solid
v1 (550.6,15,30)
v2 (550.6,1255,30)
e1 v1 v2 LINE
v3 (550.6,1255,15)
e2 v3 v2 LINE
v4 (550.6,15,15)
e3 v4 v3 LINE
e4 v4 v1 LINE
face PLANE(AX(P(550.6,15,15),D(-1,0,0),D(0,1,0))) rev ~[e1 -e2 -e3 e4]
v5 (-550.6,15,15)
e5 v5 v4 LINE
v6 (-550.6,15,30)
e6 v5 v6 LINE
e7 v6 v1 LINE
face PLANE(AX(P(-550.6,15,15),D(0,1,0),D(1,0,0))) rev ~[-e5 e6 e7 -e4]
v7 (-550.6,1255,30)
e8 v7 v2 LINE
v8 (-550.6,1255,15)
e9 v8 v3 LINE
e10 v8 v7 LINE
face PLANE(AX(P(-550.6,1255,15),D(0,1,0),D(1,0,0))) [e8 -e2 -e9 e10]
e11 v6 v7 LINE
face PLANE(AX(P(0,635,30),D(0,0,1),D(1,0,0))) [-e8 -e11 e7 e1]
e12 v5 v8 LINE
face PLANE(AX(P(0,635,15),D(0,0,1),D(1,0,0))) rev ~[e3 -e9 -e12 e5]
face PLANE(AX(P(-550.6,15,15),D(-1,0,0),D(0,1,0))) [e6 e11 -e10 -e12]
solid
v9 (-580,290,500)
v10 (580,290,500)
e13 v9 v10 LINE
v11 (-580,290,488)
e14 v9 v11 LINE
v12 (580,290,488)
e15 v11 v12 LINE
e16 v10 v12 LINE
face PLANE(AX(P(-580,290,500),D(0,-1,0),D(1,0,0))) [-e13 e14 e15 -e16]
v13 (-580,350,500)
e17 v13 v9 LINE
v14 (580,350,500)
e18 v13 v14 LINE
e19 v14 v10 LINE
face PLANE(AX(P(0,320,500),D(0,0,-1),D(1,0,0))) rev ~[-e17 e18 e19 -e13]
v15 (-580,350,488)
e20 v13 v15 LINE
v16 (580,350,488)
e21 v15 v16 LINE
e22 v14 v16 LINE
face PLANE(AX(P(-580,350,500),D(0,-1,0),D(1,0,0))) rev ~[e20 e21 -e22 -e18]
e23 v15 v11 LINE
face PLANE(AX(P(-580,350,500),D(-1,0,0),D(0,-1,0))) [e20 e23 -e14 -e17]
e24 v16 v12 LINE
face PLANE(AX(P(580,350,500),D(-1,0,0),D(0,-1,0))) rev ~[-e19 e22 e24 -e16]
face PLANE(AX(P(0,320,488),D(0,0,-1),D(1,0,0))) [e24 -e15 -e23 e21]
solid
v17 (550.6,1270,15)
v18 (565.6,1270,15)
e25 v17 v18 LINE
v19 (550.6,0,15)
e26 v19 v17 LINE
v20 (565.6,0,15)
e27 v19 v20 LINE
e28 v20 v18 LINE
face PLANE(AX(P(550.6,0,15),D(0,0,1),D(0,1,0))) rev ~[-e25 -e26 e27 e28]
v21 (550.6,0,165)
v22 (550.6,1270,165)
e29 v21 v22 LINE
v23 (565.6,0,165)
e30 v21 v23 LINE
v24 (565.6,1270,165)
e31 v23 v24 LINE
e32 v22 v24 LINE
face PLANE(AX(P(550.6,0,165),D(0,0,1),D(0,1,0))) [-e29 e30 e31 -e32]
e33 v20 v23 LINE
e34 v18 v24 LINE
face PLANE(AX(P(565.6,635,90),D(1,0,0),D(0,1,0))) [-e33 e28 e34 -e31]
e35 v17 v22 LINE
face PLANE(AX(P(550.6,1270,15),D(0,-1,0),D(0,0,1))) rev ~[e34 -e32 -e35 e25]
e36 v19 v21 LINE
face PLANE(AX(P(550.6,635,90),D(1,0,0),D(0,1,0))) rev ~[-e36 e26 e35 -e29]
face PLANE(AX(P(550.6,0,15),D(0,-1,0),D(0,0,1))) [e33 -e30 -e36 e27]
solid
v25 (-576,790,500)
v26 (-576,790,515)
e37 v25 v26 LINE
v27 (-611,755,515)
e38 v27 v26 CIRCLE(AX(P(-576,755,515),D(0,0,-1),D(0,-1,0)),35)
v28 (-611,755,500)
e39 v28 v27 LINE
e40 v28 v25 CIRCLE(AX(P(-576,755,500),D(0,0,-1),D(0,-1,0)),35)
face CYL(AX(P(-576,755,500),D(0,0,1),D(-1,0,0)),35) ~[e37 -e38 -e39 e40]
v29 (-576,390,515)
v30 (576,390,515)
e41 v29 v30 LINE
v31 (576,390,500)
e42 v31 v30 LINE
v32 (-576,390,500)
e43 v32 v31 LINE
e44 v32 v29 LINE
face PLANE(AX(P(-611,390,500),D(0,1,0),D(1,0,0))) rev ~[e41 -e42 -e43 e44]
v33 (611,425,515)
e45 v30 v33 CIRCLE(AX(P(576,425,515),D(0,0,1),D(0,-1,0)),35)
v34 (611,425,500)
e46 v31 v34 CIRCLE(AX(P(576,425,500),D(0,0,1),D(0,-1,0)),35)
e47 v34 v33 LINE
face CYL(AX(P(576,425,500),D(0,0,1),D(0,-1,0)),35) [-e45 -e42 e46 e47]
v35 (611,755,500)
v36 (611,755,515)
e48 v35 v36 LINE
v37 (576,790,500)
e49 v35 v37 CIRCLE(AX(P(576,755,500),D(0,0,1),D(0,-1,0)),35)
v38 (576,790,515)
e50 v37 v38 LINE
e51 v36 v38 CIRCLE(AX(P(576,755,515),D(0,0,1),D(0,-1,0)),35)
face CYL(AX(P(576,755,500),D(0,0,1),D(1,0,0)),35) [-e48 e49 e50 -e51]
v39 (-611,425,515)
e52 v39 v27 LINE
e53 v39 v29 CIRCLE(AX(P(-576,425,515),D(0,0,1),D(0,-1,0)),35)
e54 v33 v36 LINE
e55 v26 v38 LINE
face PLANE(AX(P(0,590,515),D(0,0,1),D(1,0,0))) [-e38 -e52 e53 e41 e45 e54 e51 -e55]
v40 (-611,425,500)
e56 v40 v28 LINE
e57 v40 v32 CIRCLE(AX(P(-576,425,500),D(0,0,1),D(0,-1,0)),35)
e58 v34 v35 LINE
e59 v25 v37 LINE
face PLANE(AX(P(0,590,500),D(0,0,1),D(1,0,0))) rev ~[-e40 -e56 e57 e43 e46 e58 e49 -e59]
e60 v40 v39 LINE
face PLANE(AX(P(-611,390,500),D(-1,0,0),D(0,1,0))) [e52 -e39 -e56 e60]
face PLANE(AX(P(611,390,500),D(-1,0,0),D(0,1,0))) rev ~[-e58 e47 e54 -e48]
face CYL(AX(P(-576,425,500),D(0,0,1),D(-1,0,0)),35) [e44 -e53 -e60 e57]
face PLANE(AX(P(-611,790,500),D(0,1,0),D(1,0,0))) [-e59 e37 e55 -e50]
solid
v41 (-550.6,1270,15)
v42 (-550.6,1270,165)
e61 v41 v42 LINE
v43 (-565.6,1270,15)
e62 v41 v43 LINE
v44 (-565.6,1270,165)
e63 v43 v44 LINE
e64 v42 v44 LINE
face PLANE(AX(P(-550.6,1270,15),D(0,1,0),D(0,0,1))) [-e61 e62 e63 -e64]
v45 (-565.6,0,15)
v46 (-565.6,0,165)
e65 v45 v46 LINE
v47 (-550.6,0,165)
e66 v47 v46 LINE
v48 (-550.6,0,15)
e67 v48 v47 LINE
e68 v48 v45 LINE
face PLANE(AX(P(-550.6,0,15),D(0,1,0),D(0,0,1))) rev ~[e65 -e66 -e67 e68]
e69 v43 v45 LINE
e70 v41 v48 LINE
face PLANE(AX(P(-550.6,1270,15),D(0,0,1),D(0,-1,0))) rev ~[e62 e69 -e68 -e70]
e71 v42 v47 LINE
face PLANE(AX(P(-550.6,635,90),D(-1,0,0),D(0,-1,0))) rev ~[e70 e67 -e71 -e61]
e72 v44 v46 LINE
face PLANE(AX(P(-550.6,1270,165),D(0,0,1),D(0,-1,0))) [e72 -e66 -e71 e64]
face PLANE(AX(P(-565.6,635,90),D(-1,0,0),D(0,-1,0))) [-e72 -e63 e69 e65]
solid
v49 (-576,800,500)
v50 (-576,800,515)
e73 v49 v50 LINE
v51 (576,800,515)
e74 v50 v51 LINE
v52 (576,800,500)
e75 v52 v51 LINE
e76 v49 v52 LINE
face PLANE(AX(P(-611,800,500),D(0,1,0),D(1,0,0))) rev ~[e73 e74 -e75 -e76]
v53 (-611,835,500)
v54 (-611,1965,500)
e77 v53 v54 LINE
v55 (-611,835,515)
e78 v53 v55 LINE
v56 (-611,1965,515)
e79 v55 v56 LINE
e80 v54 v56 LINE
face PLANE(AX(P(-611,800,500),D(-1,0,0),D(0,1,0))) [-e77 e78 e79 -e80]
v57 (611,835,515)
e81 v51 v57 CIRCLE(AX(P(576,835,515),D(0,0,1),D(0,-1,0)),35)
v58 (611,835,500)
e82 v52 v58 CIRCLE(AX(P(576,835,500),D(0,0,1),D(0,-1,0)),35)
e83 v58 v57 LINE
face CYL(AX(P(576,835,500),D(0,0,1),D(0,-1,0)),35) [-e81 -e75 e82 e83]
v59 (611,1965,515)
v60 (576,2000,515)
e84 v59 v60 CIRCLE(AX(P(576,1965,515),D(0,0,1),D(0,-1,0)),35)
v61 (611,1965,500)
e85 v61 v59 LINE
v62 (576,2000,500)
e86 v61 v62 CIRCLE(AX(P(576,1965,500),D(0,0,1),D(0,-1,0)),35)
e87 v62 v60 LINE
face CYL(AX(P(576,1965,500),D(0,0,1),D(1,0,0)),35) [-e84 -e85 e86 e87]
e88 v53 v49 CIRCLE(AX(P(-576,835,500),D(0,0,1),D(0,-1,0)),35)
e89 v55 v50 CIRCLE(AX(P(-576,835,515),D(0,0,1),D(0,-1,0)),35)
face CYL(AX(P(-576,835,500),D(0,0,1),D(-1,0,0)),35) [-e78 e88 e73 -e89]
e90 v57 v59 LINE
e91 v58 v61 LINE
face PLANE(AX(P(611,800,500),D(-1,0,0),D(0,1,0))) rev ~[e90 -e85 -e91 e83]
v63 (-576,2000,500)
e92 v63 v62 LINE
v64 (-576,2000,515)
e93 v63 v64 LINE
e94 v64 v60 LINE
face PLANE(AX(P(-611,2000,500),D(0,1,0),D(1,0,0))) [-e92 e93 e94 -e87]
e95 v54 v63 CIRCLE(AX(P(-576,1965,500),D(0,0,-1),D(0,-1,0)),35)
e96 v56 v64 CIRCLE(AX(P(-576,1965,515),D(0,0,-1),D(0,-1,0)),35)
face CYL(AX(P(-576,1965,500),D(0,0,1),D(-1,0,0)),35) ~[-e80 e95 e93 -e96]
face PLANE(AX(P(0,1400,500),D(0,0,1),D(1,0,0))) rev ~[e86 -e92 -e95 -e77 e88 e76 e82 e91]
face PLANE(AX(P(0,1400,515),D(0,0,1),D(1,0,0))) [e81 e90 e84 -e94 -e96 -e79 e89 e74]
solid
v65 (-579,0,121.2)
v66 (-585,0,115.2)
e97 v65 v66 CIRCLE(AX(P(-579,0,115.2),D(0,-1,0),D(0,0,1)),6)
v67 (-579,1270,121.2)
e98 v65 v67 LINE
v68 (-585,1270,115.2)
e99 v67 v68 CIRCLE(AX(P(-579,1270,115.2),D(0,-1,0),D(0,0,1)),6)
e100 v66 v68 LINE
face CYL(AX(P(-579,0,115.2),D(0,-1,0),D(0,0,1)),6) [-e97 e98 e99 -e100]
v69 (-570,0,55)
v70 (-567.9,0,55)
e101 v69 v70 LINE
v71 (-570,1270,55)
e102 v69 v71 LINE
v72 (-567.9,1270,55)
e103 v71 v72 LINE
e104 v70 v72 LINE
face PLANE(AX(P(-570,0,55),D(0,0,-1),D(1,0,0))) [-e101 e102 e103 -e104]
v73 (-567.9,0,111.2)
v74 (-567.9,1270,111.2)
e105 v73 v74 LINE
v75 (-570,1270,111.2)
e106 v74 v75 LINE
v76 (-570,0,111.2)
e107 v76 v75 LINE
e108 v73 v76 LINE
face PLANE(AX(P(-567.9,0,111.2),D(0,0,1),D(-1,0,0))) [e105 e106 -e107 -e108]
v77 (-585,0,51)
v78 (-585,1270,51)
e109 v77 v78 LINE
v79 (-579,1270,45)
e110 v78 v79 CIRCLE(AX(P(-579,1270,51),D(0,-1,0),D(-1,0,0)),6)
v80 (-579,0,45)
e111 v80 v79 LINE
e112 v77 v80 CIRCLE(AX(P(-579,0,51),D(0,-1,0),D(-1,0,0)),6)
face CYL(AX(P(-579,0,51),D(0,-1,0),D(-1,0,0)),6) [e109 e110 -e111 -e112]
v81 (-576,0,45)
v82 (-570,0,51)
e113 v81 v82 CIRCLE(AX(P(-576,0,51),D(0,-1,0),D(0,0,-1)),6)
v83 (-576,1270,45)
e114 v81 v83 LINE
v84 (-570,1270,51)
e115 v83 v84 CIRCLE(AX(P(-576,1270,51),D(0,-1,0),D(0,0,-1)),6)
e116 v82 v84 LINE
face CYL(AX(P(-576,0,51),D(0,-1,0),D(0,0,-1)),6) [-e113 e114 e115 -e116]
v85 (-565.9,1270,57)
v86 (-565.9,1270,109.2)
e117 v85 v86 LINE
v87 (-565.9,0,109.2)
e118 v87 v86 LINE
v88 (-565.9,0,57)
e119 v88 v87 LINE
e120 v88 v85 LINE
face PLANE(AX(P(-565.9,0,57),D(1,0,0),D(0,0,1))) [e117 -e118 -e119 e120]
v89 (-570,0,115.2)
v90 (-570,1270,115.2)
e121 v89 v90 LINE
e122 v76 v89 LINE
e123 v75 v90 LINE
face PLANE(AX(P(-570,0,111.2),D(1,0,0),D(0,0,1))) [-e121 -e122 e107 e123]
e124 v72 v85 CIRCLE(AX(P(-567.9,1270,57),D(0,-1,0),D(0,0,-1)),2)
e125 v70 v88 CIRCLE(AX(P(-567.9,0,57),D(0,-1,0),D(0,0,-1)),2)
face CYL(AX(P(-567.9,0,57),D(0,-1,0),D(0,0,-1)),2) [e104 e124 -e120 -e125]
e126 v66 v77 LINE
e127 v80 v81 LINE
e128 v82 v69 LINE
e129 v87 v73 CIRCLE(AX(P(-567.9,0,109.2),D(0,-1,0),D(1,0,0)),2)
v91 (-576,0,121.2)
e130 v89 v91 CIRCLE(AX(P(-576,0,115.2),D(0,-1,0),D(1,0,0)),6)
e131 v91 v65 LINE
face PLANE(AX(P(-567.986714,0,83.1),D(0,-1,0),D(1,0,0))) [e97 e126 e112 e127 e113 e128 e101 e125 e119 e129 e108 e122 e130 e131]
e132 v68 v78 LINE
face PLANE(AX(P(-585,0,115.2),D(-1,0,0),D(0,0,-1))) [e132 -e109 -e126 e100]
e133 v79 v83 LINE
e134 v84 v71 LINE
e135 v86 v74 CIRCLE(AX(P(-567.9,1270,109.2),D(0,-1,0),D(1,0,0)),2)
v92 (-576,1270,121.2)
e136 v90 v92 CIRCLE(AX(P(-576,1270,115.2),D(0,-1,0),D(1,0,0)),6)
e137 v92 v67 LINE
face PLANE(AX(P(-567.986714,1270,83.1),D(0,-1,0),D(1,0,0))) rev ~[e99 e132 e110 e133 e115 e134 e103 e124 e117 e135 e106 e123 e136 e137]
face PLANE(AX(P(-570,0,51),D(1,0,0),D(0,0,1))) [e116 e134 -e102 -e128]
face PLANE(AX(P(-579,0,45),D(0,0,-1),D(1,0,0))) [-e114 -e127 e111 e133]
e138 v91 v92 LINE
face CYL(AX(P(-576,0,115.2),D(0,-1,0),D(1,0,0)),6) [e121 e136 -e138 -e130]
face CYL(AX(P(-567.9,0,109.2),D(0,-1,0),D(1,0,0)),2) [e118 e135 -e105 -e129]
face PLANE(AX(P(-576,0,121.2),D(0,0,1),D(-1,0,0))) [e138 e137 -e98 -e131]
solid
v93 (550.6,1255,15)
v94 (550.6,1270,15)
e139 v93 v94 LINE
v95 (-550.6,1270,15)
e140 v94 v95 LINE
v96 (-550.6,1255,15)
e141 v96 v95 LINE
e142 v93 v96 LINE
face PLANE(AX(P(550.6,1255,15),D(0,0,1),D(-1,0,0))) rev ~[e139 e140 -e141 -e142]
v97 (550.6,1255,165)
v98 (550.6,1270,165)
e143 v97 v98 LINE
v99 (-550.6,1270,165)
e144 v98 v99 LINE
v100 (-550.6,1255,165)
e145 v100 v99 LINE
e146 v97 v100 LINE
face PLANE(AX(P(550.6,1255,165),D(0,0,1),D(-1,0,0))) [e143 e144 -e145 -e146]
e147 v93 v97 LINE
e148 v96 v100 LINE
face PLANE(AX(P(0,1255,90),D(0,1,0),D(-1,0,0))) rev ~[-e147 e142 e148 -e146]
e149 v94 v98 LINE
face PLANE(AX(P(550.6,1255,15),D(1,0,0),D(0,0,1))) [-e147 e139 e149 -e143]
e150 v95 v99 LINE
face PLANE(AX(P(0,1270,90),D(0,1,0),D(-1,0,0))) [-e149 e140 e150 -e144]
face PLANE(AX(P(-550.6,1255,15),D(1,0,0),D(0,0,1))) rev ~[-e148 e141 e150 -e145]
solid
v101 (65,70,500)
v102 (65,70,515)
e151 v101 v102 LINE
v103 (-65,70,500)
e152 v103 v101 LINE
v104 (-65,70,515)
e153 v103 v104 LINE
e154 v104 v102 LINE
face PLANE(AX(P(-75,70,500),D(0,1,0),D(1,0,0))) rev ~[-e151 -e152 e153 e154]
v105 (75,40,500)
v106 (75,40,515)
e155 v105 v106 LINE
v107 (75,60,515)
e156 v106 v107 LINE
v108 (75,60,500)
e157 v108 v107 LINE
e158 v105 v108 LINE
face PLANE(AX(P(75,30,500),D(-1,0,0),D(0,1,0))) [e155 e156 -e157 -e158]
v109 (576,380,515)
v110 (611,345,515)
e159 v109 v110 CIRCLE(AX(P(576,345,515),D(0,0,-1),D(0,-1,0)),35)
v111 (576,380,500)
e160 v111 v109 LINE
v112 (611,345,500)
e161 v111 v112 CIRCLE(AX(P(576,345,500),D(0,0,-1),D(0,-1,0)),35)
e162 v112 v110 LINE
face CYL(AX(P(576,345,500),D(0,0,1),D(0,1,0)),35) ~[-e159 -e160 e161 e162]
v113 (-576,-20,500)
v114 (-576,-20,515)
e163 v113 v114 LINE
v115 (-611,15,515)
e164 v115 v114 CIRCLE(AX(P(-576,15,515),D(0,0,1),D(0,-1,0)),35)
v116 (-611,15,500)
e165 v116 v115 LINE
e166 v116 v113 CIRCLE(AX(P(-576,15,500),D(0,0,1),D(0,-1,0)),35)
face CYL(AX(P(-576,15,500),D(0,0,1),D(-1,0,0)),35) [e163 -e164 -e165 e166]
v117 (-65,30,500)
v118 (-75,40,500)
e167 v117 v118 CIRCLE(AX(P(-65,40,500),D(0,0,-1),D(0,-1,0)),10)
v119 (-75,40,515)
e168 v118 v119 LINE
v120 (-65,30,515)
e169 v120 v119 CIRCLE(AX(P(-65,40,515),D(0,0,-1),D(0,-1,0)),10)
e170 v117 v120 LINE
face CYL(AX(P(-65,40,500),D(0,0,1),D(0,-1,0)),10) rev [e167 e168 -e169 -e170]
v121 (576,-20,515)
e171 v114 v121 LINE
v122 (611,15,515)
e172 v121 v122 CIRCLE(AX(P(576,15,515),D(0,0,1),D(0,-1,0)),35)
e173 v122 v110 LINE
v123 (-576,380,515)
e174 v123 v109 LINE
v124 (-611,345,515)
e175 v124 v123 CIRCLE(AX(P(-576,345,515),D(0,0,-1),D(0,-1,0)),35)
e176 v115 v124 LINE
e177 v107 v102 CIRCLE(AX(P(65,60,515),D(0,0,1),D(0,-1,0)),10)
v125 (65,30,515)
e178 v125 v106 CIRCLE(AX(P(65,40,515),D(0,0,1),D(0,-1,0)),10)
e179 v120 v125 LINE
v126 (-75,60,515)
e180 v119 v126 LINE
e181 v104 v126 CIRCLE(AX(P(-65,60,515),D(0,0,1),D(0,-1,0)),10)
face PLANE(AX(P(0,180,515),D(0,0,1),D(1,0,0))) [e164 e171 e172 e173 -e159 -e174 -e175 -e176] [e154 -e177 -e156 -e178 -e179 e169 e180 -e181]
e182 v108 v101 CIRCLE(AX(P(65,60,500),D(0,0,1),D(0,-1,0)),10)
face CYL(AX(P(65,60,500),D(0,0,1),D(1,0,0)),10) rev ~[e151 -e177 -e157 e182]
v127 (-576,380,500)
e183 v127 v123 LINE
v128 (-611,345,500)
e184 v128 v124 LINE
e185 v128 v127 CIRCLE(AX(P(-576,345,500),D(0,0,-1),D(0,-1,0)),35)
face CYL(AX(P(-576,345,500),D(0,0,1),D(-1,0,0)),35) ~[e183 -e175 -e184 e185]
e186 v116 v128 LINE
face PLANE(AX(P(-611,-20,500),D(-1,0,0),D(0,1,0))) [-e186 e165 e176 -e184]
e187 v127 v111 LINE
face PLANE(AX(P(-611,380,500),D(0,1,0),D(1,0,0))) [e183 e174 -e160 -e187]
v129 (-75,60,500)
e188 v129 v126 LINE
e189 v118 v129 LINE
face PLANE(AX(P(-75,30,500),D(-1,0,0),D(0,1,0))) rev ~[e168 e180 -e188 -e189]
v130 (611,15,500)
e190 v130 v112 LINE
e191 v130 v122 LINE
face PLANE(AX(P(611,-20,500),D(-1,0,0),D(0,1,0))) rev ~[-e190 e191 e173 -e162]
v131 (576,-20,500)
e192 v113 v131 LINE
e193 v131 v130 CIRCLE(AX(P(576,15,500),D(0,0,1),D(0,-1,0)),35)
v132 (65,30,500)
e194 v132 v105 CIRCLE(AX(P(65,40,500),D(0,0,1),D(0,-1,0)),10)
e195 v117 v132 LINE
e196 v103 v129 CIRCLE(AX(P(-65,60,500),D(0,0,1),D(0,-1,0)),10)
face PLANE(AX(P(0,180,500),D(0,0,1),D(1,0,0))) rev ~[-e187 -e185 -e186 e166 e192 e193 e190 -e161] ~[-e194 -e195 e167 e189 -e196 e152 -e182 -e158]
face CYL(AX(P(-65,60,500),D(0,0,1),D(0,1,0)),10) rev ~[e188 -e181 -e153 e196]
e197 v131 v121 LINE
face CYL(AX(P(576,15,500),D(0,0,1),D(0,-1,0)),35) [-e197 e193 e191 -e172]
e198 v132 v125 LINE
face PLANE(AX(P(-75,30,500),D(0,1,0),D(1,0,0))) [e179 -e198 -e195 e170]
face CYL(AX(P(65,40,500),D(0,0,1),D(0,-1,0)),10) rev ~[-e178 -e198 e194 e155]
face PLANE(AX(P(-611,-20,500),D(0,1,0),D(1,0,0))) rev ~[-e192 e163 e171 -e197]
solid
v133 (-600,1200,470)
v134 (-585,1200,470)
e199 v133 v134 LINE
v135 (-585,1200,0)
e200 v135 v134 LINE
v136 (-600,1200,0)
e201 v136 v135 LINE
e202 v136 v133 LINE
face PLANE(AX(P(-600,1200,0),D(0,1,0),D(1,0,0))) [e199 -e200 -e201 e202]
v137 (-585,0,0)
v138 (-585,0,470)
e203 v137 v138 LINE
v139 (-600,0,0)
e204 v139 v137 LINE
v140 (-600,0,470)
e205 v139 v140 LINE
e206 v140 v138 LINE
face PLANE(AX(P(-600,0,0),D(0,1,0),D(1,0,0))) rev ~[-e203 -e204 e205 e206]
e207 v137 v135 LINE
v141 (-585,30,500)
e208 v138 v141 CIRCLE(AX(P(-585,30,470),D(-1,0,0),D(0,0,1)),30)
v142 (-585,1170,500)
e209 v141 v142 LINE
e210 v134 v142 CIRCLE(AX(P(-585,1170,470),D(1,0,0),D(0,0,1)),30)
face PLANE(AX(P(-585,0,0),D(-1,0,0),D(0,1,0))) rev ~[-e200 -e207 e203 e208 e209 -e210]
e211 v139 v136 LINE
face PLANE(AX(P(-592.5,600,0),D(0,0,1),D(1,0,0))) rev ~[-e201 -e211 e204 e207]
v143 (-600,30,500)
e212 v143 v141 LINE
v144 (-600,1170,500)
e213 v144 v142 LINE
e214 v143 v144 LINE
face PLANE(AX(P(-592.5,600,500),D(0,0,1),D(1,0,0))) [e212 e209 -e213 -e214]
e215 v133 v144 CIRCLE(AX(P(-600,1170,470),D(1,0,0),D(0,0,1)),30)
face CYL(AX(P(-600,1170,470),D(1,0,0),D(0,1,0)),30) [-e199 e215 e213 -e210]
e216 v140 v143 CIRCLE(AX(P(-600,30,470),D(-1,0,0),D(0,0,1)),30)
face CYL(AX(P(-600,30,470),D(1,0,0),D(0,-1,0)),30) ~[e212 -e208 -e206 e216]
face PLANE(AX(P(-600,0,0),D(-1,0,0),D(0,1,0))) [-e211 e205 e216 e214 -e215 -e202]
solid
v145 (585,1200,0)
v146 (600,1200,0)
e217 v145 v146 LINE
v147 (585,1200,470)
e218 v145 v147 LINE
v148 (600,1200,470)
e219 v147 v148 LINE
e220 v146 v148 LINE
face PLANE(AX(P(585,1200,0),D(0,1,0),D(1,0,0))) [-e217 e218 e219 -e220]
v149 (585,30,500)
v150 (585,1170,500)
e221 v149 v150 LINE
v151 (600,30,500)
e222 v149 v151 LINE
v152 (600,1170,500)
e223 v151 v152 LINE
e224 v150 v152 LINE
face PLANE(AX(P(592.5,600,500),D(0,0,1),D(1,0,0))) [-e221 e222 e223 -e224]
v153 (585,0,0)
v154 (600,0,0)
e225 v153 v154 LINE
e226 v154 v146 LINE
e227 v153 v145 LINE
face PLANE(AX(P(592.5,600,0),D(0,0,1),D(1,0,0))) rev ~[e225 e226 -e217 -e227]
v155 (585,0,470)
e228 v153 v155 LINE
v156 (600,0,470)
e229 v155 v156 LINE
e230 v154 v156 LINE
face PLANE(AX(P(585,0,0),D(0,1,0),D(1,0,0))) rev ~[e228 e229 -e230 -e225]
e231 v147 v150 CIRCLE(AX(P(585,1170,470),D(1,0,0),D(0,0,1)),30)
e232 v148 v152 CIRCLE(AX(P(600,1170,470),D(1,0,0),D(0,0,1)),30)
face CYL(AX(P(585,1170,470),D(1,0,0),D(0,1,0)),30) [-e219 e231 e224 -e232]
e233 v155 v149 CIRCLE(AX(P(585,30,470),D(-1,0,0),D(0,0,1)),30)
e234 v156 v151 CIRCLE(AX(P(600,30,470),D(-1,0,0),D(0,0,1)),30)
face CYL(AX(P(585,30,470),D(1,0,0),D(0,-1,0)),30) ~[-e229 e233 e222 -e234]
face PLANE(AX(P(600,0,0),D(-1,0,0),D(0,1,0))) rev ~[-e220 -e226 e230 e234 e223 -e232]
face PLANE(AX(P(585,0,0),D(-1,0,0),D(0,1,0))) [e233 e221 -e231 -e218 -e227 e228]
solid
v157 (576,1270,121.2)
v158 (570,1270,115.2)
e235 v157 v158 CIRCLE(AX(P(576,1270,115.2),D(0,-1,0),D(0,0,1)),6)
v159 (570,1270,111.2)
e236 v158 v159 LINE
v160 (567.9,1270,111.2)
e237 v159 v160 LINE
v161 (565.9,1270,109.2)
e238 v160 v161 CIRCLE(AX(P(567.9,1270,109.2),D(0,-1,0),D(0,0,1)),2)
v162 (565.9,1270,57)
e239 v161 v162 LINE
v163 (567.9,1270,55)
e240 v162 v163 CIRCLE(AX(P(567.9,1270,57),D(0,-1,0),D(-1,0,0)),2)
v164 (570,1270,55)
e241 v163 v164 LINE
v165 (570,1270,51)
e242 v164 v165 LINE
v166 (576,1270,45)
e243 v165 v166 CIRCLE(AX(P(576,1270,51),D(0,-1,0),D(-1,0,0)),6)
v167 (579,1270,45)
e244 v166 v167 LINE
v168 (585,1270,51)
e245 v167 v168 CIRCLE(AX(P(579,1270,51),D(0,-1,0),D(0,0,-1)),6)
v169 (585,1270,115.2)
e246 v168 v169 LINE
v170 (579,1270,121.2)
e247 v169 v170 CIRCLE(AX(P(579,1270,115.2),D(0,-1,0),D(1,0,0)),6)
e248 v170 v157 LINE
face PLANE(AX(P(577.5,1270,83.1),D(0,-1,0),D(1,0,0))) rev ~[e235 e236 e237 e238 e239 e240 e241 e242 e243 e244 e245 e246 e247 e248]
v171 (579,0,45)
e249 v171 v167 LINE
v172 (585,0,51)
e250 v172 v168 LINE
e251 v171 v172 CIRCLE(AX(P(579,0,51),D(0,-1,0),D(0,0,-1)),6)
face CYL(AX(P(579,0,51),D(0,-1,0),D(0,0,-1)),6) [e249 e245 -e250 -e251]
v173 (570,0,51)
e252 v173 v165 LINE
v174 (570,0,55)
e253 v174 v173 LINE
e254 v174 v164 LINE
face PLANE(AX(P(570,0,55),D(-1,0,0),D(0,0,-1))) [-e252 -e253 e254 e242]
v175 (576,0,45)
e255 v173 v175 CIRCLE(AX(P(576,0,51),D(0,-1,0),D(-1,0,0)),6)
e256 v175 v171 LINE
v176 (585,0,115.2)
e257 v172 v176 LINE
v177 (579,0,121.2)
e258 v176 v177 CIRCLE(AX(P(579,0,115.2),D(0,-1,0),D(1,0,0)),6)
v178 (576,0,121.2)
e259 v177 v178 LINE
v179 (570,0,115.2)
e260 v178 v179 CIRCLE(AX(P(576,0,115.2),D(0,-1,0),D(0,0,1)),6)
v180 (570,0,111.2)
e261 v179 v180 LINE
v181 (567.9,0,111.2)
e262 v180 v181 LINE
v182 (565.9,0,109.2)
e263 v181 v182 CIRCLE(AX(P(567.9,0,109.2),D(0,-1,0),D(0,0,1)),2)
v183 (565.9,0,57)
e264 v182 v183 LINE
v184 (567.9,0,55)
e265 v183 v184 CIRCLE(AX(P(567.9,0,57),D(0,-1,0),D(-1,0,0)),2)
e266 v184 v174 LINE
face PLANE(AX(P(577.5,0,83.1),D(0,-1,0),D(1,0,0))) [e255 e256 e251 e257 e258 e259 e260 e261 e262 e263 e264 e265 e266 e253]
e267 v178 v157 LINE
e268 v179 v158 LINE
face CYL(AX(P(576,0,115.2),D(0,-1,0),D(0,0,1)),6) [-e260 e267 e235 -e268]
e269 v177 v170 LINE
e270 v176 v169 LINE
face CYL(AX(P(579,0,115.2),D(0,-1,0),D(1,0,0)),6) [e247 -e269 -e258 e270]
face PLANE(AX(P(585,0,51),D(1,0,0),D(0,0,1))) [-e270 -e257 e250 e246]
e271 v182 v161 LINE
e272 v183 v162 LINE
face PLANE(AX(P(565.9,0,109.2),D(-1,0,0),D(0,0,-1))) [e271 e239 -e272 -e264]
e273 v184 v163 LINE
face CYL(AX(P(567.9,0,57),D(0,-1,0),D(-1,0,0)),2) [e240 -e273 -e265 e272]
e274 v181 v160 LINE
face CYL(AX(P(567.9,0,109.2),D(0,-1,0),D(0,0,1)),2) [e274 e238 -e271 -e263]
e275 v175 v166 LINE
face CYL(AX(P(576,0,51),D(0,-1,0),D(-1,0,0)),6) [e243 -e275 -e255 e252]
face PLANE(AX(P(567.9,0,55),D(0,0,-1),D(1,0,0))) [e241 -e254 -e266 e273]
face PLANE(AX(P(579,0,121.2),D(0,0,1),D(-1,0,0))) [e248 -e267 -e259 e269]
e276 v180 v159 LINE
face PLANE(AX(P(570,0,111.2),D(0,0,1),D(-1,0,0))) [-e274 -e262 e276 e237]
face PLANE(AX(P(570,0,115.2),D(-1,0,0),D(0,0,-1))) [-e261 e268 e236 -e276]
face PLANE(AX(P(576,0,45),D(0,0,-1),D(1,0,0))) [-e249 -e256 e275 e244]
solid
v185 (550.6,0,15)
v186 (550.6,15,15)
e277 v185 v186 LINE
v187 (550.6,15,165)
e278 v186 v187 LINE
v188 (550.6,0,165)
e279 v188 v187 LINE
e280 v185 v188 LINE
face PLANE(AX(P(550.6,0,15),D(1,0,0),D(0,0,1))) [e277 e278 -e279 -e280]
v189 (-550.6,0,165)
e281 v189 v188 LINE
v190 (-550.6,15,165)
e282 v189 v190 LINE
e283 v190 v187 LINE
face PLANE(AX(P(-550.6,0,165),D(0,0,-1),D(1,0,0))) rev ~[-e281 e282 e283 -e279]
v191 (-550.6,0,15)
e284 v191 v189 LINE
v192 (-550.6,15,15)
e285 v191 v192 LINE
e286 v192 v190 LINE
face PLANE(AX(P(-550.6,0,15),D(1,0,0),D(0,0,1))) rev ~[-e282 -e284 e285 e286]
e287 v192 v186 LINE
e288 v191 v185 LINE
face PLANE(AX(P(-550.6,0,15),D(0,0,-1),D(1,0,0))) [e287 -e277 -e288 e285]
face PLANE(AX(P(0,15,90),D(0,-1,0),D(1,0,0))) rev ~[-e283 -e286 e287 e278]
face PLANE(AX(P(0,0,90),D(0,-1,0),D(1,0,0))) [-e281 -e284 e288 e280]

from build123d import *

# Parameters (mm, degrees)
F0_W      = 15
F0_H      = 1200
F1_DEPTH  = 500
F2_R      = 30
F2_2_R    = 30
F4_W      = 1222
F4_H      = 1200
F5_DEPTH  = 15
F6_W      = 1222
F6_H      = 400
F7_DEPTH  = 15
F8_W      = 1222
F8_H      = 400
F8_W_2    = 150
F8_H_2    = 40
F9_DEPTH  = 15
F10_R     = 10
F11_R     = 35
F11_2_R   = 35
F11_3_R   = 35
F13_W     = 1101.2
F13_H     = 1240
F14_DEPTH = 15
F15_W     = 1101.2
F15_H     = 150
F16_DEPTH = 15
F17_W     = 1101.2
F17_H     = 150
F18_DEPTH = 15
F19_W     = 1270
F19_H     = 150
F20_DEPTH = 15
F21_W     = 1270
F21_H     = 150
F22_DEPTH = 15
F24_DEPTH = 1270
F25_W     = 1160
F25_H     = 60
F26_DEPTH = 12


with BuildPart() as f1:
    # F0 (on Top) → F1 (new body)
    with BuildSketch(Plane.XY):
        with Locations((592.5, 600)):
            Rectangle(F0_W, F0_H)
    extrude(amount=F1_DEPTH)

    # F2#2
    f2_2_edges = [f1.edges().sort_by_distance(p)[0] for p in [
        (592.5, 1200, 500),
        (592.5, 0, 500),
    ]]
    fillet(f2_2_edges, radius=F2_2_R)


with BuildPart() as f1b:
    # F0 (on Top) → F1, piece 2 (new body)
    with BuildSketch(Plane.XY):
        with Locations((-592.5, 600)):
            Rectangle(F0_W, F0_H)
    extrude(amount=F1_DEPTH)

    # F2
    f2_edges = [f1b.edges().sort_by_distance(p)[0] for p in [
        (-592.5, 0, 500),
        (-592.5, 1200, 500),
    ]]
    fillet(f2_edges, radius=F2_R)


with BuildPart() as f5:
    # F4 (on offset) → F5 (new body)
    with BuildSketch(Plane.XY.offset(500)):
        with Locations((0, 1400)):
            Rectangle(F4_W, F4_H)
    extrude(amount=F5_DEPTH)

    # F11#2
    f11_2_edges = [f5.edges().sort_by_distance(p)[0] for p in [
        (-611, 2000, 507.5),
        (611, 2000, 507.5),
        (611, 800, 507.5),
        (-611, 800, 507.5),
    ]]
    fillet(f11_2_edges, radius=F11_2_R)


with BuildPart() as f7:
    # F6 (on offset) → F7 (new body)
    with BuildSketch(Plane.XY.offset(500)):
        with Locations((0, 590)):
            Rectangle(F6_W, F6_H)
    extrude(amount=F7_DEPTH)

    # F11#3
    f11_3_edges = [f7.edges().sort_by_distance(p)[0] for p in [
        (611, 790, 507.5),
        (611, 390, 507.5),
        (-611, 790, 507.5),
        (-611, 390, 507.5),
    ]]
    fillet(f11_3_edges, radius=F11_3_R)


with BuildPart() as f9:
    # F8 (on offset) → F9 (new body)
    with BuildSketch(Plane.XY.offset(500)):
        with Locations((0, 180)):
            Rectangle(F8_W, F8_H)
        with Locations((0, 50)):
            Rectangle(F8_W_2, F8_H_2, mode=Mode.SUBTRACT)
    extrude(amount=F9_DEPTH)

    # F10
    f10_edges = [f9.edges().sort_by_distance(p)[0] for p in [
        (-75, 70, 507.5),
        (75, 70, 507.5),
        (75, 30, 507.5),
        (-75, 30, 507.5),
    ]]
    fillet(f10_edges, radius=F10_R)

    # F11
    f11_edges = [f9.edges().sort_by_distance(p)[0] for p in [
        (611, -20, 507.5),
        (-611, -20, 507.5),
        (611, 380, 507.5),
        (-611, 380, 507.5),
    ]]
    fillet(f11_edges, radius=F11_R)


with BuildPart() as f14:
    # F13 (on offset) → F14 (new body)
    with BuildSketch(Plane.XY.offset(15)):
        with Locations((0, 635)):
            Rectangle(F13_W, F13_H)
    extrude(amount=F14_DEPTH)


with BuildPart() as f16:
    # F15 (on Front) → F16 (new body)
    with BuildSketch(Plane.XZ):
        with Locations((0, 90)):
            Rectangle(F15_W, F15_H)
    extrude(amount=-F16_DEPTH)


with BuildPart() as f18:
    # F17 (on face) → F18 (new body)
    with BuildSketch(Plane(origin=(0, 1255, 0), x_dir=(-1, 0, 0), z_dir=(0, 1, 0))):
        with Locations((0, 90)):
            Rectangle(F17_W, F17_H)
    extrude(amount=F18_DEPTH)


with BuildPart() as f20:
    # F19 (on face) → F20 (new body)
    with BuildSketch(Plane.YZ.offset(550.6)):
        with Locations((635, 90)):
            Rectangle(F19_W, F19_H)
    extrude(amount=F20_DEPTH)


with BuildPart() as f22:
    # F21 (on face) → F22 (new body)
    with BuildSketch(Plane(origin=(-550.6, 0, 0), x_dir=(0, -1, 0), z_dir=(-1, 0, 0))):
        with Locations((-635, 90)):
            Rectangle(F21_W, F21_H)
    extrude(amount=F22_DEPTH)


with BuildPart() as f24:
    # F23 (on Front) → F24 (new body)
    with BuildSketch(Plane.XZ):
        with BuildLine():
            Line((576, 45), (579, 45))
            ThreePointArc((579, 45), (583.2426406871, 46.7573593129), (585, 51))
            Line((585, 51), (585, 115.2))
            ThreePointArc((585, 115.2), (583.2426406871, 119.4426406871), (579, 121.2))
            Line((579, 121.2), (576, 121.2))
            ThreePointArc((576, 121.2), (571.7573593129, 119.4426406871), (570, 115.2))
            Line((570, 115.2), (570, 111.2))
            Line((570, 111.2), (570, 55))
            Line((570, 55), (570, 51))
            ThreePointArc((570, 51), (571.7573593129, 46.7573593129), (576, 45))
        make_face()
        with BuildLine():
            Line((567.9, 55), (570, 55))
            Line((570, 55), (570, 111.2))
            Line((570, 111.2), (567.9, 111.2))
            ThreePointArc((567.9, 111.2), (566.4857864376, 110.6142135624), (565.9, 109.2))
            Line((565.9, 109.2), (565.9, 57))
            ThreePointArc((565.9, 57), (566.4857864376, 55.5857864376), (567.9, 55))
        make_face()
    extrude(amount=-F24_DEPTH)


with BuildPart() as f24b:
    # F23 (on Front) → F24, piece 2 (new body)
    with BuildSketch(Plane.XZ):
        with BuildLine():
            ThreePointArc((-567.9, 55), (-566.4857864376, 55.5857864376), (-565.9, 57))
            Line((-565.9, 57), (-565.9, 109.2))
            ThreePointArc((-565.9, 109.2), (-566.4857864376, 110.6142135624), (-567.9, 111.2))
            Line((-567.9, 111.2), (-570, 111.2))
            Line((-570, 111.2), (-570, 55))
            Line((-570, 55), (-567.9, 55))
        make_face()
        with BuildLine():
            Line((-570, 51), (-570, 55))
            Line((-570, 55), (-570, 111.2))
            Line((-570, 111.2), (-570, 115.2))
            ThreePointArc((-570, 115.2), (-571.7573593129, 119.4426406871), (-576, 121.2))
            Line((-576, 121.2), (-579, 121.2))
            ThreePointArc((-579, 121.2), (-583.2426406871, 119.4426406871), (-585, 115.2))
            Line((-585, 115.2), (-585, 51))
            ThreePointArc((-585, 51), (-583.2426406871, 46.7573593129), (-579, 45))
            Line((-579, 45), (-576, 45))
            ThreePointArc((-576, 45), (-571.7573593129, 46.7573593129), (-570, 51))
        make_face()
    extrude(amount=-F24_DEPTH)


with BuildPart() as f26:
    # F25 (on face) → F26 (new body)
    with BuildSketch(Plane(origin=(0, 0, 500), x_dir=(1, 0, 0), z_dir=(0, 0, -1))):
        with Locations((0, -320)):
            Rectangle(F25_W, F25_H)
    extrude(amount=F26_DEPTH)


solid = Compound([f1.part, f1b.part, f5.part, f7.part, f9.part, f14.part, f16.part, f18.part, f20.part, f22.part, f24.part, f24b.part, f26.part])
